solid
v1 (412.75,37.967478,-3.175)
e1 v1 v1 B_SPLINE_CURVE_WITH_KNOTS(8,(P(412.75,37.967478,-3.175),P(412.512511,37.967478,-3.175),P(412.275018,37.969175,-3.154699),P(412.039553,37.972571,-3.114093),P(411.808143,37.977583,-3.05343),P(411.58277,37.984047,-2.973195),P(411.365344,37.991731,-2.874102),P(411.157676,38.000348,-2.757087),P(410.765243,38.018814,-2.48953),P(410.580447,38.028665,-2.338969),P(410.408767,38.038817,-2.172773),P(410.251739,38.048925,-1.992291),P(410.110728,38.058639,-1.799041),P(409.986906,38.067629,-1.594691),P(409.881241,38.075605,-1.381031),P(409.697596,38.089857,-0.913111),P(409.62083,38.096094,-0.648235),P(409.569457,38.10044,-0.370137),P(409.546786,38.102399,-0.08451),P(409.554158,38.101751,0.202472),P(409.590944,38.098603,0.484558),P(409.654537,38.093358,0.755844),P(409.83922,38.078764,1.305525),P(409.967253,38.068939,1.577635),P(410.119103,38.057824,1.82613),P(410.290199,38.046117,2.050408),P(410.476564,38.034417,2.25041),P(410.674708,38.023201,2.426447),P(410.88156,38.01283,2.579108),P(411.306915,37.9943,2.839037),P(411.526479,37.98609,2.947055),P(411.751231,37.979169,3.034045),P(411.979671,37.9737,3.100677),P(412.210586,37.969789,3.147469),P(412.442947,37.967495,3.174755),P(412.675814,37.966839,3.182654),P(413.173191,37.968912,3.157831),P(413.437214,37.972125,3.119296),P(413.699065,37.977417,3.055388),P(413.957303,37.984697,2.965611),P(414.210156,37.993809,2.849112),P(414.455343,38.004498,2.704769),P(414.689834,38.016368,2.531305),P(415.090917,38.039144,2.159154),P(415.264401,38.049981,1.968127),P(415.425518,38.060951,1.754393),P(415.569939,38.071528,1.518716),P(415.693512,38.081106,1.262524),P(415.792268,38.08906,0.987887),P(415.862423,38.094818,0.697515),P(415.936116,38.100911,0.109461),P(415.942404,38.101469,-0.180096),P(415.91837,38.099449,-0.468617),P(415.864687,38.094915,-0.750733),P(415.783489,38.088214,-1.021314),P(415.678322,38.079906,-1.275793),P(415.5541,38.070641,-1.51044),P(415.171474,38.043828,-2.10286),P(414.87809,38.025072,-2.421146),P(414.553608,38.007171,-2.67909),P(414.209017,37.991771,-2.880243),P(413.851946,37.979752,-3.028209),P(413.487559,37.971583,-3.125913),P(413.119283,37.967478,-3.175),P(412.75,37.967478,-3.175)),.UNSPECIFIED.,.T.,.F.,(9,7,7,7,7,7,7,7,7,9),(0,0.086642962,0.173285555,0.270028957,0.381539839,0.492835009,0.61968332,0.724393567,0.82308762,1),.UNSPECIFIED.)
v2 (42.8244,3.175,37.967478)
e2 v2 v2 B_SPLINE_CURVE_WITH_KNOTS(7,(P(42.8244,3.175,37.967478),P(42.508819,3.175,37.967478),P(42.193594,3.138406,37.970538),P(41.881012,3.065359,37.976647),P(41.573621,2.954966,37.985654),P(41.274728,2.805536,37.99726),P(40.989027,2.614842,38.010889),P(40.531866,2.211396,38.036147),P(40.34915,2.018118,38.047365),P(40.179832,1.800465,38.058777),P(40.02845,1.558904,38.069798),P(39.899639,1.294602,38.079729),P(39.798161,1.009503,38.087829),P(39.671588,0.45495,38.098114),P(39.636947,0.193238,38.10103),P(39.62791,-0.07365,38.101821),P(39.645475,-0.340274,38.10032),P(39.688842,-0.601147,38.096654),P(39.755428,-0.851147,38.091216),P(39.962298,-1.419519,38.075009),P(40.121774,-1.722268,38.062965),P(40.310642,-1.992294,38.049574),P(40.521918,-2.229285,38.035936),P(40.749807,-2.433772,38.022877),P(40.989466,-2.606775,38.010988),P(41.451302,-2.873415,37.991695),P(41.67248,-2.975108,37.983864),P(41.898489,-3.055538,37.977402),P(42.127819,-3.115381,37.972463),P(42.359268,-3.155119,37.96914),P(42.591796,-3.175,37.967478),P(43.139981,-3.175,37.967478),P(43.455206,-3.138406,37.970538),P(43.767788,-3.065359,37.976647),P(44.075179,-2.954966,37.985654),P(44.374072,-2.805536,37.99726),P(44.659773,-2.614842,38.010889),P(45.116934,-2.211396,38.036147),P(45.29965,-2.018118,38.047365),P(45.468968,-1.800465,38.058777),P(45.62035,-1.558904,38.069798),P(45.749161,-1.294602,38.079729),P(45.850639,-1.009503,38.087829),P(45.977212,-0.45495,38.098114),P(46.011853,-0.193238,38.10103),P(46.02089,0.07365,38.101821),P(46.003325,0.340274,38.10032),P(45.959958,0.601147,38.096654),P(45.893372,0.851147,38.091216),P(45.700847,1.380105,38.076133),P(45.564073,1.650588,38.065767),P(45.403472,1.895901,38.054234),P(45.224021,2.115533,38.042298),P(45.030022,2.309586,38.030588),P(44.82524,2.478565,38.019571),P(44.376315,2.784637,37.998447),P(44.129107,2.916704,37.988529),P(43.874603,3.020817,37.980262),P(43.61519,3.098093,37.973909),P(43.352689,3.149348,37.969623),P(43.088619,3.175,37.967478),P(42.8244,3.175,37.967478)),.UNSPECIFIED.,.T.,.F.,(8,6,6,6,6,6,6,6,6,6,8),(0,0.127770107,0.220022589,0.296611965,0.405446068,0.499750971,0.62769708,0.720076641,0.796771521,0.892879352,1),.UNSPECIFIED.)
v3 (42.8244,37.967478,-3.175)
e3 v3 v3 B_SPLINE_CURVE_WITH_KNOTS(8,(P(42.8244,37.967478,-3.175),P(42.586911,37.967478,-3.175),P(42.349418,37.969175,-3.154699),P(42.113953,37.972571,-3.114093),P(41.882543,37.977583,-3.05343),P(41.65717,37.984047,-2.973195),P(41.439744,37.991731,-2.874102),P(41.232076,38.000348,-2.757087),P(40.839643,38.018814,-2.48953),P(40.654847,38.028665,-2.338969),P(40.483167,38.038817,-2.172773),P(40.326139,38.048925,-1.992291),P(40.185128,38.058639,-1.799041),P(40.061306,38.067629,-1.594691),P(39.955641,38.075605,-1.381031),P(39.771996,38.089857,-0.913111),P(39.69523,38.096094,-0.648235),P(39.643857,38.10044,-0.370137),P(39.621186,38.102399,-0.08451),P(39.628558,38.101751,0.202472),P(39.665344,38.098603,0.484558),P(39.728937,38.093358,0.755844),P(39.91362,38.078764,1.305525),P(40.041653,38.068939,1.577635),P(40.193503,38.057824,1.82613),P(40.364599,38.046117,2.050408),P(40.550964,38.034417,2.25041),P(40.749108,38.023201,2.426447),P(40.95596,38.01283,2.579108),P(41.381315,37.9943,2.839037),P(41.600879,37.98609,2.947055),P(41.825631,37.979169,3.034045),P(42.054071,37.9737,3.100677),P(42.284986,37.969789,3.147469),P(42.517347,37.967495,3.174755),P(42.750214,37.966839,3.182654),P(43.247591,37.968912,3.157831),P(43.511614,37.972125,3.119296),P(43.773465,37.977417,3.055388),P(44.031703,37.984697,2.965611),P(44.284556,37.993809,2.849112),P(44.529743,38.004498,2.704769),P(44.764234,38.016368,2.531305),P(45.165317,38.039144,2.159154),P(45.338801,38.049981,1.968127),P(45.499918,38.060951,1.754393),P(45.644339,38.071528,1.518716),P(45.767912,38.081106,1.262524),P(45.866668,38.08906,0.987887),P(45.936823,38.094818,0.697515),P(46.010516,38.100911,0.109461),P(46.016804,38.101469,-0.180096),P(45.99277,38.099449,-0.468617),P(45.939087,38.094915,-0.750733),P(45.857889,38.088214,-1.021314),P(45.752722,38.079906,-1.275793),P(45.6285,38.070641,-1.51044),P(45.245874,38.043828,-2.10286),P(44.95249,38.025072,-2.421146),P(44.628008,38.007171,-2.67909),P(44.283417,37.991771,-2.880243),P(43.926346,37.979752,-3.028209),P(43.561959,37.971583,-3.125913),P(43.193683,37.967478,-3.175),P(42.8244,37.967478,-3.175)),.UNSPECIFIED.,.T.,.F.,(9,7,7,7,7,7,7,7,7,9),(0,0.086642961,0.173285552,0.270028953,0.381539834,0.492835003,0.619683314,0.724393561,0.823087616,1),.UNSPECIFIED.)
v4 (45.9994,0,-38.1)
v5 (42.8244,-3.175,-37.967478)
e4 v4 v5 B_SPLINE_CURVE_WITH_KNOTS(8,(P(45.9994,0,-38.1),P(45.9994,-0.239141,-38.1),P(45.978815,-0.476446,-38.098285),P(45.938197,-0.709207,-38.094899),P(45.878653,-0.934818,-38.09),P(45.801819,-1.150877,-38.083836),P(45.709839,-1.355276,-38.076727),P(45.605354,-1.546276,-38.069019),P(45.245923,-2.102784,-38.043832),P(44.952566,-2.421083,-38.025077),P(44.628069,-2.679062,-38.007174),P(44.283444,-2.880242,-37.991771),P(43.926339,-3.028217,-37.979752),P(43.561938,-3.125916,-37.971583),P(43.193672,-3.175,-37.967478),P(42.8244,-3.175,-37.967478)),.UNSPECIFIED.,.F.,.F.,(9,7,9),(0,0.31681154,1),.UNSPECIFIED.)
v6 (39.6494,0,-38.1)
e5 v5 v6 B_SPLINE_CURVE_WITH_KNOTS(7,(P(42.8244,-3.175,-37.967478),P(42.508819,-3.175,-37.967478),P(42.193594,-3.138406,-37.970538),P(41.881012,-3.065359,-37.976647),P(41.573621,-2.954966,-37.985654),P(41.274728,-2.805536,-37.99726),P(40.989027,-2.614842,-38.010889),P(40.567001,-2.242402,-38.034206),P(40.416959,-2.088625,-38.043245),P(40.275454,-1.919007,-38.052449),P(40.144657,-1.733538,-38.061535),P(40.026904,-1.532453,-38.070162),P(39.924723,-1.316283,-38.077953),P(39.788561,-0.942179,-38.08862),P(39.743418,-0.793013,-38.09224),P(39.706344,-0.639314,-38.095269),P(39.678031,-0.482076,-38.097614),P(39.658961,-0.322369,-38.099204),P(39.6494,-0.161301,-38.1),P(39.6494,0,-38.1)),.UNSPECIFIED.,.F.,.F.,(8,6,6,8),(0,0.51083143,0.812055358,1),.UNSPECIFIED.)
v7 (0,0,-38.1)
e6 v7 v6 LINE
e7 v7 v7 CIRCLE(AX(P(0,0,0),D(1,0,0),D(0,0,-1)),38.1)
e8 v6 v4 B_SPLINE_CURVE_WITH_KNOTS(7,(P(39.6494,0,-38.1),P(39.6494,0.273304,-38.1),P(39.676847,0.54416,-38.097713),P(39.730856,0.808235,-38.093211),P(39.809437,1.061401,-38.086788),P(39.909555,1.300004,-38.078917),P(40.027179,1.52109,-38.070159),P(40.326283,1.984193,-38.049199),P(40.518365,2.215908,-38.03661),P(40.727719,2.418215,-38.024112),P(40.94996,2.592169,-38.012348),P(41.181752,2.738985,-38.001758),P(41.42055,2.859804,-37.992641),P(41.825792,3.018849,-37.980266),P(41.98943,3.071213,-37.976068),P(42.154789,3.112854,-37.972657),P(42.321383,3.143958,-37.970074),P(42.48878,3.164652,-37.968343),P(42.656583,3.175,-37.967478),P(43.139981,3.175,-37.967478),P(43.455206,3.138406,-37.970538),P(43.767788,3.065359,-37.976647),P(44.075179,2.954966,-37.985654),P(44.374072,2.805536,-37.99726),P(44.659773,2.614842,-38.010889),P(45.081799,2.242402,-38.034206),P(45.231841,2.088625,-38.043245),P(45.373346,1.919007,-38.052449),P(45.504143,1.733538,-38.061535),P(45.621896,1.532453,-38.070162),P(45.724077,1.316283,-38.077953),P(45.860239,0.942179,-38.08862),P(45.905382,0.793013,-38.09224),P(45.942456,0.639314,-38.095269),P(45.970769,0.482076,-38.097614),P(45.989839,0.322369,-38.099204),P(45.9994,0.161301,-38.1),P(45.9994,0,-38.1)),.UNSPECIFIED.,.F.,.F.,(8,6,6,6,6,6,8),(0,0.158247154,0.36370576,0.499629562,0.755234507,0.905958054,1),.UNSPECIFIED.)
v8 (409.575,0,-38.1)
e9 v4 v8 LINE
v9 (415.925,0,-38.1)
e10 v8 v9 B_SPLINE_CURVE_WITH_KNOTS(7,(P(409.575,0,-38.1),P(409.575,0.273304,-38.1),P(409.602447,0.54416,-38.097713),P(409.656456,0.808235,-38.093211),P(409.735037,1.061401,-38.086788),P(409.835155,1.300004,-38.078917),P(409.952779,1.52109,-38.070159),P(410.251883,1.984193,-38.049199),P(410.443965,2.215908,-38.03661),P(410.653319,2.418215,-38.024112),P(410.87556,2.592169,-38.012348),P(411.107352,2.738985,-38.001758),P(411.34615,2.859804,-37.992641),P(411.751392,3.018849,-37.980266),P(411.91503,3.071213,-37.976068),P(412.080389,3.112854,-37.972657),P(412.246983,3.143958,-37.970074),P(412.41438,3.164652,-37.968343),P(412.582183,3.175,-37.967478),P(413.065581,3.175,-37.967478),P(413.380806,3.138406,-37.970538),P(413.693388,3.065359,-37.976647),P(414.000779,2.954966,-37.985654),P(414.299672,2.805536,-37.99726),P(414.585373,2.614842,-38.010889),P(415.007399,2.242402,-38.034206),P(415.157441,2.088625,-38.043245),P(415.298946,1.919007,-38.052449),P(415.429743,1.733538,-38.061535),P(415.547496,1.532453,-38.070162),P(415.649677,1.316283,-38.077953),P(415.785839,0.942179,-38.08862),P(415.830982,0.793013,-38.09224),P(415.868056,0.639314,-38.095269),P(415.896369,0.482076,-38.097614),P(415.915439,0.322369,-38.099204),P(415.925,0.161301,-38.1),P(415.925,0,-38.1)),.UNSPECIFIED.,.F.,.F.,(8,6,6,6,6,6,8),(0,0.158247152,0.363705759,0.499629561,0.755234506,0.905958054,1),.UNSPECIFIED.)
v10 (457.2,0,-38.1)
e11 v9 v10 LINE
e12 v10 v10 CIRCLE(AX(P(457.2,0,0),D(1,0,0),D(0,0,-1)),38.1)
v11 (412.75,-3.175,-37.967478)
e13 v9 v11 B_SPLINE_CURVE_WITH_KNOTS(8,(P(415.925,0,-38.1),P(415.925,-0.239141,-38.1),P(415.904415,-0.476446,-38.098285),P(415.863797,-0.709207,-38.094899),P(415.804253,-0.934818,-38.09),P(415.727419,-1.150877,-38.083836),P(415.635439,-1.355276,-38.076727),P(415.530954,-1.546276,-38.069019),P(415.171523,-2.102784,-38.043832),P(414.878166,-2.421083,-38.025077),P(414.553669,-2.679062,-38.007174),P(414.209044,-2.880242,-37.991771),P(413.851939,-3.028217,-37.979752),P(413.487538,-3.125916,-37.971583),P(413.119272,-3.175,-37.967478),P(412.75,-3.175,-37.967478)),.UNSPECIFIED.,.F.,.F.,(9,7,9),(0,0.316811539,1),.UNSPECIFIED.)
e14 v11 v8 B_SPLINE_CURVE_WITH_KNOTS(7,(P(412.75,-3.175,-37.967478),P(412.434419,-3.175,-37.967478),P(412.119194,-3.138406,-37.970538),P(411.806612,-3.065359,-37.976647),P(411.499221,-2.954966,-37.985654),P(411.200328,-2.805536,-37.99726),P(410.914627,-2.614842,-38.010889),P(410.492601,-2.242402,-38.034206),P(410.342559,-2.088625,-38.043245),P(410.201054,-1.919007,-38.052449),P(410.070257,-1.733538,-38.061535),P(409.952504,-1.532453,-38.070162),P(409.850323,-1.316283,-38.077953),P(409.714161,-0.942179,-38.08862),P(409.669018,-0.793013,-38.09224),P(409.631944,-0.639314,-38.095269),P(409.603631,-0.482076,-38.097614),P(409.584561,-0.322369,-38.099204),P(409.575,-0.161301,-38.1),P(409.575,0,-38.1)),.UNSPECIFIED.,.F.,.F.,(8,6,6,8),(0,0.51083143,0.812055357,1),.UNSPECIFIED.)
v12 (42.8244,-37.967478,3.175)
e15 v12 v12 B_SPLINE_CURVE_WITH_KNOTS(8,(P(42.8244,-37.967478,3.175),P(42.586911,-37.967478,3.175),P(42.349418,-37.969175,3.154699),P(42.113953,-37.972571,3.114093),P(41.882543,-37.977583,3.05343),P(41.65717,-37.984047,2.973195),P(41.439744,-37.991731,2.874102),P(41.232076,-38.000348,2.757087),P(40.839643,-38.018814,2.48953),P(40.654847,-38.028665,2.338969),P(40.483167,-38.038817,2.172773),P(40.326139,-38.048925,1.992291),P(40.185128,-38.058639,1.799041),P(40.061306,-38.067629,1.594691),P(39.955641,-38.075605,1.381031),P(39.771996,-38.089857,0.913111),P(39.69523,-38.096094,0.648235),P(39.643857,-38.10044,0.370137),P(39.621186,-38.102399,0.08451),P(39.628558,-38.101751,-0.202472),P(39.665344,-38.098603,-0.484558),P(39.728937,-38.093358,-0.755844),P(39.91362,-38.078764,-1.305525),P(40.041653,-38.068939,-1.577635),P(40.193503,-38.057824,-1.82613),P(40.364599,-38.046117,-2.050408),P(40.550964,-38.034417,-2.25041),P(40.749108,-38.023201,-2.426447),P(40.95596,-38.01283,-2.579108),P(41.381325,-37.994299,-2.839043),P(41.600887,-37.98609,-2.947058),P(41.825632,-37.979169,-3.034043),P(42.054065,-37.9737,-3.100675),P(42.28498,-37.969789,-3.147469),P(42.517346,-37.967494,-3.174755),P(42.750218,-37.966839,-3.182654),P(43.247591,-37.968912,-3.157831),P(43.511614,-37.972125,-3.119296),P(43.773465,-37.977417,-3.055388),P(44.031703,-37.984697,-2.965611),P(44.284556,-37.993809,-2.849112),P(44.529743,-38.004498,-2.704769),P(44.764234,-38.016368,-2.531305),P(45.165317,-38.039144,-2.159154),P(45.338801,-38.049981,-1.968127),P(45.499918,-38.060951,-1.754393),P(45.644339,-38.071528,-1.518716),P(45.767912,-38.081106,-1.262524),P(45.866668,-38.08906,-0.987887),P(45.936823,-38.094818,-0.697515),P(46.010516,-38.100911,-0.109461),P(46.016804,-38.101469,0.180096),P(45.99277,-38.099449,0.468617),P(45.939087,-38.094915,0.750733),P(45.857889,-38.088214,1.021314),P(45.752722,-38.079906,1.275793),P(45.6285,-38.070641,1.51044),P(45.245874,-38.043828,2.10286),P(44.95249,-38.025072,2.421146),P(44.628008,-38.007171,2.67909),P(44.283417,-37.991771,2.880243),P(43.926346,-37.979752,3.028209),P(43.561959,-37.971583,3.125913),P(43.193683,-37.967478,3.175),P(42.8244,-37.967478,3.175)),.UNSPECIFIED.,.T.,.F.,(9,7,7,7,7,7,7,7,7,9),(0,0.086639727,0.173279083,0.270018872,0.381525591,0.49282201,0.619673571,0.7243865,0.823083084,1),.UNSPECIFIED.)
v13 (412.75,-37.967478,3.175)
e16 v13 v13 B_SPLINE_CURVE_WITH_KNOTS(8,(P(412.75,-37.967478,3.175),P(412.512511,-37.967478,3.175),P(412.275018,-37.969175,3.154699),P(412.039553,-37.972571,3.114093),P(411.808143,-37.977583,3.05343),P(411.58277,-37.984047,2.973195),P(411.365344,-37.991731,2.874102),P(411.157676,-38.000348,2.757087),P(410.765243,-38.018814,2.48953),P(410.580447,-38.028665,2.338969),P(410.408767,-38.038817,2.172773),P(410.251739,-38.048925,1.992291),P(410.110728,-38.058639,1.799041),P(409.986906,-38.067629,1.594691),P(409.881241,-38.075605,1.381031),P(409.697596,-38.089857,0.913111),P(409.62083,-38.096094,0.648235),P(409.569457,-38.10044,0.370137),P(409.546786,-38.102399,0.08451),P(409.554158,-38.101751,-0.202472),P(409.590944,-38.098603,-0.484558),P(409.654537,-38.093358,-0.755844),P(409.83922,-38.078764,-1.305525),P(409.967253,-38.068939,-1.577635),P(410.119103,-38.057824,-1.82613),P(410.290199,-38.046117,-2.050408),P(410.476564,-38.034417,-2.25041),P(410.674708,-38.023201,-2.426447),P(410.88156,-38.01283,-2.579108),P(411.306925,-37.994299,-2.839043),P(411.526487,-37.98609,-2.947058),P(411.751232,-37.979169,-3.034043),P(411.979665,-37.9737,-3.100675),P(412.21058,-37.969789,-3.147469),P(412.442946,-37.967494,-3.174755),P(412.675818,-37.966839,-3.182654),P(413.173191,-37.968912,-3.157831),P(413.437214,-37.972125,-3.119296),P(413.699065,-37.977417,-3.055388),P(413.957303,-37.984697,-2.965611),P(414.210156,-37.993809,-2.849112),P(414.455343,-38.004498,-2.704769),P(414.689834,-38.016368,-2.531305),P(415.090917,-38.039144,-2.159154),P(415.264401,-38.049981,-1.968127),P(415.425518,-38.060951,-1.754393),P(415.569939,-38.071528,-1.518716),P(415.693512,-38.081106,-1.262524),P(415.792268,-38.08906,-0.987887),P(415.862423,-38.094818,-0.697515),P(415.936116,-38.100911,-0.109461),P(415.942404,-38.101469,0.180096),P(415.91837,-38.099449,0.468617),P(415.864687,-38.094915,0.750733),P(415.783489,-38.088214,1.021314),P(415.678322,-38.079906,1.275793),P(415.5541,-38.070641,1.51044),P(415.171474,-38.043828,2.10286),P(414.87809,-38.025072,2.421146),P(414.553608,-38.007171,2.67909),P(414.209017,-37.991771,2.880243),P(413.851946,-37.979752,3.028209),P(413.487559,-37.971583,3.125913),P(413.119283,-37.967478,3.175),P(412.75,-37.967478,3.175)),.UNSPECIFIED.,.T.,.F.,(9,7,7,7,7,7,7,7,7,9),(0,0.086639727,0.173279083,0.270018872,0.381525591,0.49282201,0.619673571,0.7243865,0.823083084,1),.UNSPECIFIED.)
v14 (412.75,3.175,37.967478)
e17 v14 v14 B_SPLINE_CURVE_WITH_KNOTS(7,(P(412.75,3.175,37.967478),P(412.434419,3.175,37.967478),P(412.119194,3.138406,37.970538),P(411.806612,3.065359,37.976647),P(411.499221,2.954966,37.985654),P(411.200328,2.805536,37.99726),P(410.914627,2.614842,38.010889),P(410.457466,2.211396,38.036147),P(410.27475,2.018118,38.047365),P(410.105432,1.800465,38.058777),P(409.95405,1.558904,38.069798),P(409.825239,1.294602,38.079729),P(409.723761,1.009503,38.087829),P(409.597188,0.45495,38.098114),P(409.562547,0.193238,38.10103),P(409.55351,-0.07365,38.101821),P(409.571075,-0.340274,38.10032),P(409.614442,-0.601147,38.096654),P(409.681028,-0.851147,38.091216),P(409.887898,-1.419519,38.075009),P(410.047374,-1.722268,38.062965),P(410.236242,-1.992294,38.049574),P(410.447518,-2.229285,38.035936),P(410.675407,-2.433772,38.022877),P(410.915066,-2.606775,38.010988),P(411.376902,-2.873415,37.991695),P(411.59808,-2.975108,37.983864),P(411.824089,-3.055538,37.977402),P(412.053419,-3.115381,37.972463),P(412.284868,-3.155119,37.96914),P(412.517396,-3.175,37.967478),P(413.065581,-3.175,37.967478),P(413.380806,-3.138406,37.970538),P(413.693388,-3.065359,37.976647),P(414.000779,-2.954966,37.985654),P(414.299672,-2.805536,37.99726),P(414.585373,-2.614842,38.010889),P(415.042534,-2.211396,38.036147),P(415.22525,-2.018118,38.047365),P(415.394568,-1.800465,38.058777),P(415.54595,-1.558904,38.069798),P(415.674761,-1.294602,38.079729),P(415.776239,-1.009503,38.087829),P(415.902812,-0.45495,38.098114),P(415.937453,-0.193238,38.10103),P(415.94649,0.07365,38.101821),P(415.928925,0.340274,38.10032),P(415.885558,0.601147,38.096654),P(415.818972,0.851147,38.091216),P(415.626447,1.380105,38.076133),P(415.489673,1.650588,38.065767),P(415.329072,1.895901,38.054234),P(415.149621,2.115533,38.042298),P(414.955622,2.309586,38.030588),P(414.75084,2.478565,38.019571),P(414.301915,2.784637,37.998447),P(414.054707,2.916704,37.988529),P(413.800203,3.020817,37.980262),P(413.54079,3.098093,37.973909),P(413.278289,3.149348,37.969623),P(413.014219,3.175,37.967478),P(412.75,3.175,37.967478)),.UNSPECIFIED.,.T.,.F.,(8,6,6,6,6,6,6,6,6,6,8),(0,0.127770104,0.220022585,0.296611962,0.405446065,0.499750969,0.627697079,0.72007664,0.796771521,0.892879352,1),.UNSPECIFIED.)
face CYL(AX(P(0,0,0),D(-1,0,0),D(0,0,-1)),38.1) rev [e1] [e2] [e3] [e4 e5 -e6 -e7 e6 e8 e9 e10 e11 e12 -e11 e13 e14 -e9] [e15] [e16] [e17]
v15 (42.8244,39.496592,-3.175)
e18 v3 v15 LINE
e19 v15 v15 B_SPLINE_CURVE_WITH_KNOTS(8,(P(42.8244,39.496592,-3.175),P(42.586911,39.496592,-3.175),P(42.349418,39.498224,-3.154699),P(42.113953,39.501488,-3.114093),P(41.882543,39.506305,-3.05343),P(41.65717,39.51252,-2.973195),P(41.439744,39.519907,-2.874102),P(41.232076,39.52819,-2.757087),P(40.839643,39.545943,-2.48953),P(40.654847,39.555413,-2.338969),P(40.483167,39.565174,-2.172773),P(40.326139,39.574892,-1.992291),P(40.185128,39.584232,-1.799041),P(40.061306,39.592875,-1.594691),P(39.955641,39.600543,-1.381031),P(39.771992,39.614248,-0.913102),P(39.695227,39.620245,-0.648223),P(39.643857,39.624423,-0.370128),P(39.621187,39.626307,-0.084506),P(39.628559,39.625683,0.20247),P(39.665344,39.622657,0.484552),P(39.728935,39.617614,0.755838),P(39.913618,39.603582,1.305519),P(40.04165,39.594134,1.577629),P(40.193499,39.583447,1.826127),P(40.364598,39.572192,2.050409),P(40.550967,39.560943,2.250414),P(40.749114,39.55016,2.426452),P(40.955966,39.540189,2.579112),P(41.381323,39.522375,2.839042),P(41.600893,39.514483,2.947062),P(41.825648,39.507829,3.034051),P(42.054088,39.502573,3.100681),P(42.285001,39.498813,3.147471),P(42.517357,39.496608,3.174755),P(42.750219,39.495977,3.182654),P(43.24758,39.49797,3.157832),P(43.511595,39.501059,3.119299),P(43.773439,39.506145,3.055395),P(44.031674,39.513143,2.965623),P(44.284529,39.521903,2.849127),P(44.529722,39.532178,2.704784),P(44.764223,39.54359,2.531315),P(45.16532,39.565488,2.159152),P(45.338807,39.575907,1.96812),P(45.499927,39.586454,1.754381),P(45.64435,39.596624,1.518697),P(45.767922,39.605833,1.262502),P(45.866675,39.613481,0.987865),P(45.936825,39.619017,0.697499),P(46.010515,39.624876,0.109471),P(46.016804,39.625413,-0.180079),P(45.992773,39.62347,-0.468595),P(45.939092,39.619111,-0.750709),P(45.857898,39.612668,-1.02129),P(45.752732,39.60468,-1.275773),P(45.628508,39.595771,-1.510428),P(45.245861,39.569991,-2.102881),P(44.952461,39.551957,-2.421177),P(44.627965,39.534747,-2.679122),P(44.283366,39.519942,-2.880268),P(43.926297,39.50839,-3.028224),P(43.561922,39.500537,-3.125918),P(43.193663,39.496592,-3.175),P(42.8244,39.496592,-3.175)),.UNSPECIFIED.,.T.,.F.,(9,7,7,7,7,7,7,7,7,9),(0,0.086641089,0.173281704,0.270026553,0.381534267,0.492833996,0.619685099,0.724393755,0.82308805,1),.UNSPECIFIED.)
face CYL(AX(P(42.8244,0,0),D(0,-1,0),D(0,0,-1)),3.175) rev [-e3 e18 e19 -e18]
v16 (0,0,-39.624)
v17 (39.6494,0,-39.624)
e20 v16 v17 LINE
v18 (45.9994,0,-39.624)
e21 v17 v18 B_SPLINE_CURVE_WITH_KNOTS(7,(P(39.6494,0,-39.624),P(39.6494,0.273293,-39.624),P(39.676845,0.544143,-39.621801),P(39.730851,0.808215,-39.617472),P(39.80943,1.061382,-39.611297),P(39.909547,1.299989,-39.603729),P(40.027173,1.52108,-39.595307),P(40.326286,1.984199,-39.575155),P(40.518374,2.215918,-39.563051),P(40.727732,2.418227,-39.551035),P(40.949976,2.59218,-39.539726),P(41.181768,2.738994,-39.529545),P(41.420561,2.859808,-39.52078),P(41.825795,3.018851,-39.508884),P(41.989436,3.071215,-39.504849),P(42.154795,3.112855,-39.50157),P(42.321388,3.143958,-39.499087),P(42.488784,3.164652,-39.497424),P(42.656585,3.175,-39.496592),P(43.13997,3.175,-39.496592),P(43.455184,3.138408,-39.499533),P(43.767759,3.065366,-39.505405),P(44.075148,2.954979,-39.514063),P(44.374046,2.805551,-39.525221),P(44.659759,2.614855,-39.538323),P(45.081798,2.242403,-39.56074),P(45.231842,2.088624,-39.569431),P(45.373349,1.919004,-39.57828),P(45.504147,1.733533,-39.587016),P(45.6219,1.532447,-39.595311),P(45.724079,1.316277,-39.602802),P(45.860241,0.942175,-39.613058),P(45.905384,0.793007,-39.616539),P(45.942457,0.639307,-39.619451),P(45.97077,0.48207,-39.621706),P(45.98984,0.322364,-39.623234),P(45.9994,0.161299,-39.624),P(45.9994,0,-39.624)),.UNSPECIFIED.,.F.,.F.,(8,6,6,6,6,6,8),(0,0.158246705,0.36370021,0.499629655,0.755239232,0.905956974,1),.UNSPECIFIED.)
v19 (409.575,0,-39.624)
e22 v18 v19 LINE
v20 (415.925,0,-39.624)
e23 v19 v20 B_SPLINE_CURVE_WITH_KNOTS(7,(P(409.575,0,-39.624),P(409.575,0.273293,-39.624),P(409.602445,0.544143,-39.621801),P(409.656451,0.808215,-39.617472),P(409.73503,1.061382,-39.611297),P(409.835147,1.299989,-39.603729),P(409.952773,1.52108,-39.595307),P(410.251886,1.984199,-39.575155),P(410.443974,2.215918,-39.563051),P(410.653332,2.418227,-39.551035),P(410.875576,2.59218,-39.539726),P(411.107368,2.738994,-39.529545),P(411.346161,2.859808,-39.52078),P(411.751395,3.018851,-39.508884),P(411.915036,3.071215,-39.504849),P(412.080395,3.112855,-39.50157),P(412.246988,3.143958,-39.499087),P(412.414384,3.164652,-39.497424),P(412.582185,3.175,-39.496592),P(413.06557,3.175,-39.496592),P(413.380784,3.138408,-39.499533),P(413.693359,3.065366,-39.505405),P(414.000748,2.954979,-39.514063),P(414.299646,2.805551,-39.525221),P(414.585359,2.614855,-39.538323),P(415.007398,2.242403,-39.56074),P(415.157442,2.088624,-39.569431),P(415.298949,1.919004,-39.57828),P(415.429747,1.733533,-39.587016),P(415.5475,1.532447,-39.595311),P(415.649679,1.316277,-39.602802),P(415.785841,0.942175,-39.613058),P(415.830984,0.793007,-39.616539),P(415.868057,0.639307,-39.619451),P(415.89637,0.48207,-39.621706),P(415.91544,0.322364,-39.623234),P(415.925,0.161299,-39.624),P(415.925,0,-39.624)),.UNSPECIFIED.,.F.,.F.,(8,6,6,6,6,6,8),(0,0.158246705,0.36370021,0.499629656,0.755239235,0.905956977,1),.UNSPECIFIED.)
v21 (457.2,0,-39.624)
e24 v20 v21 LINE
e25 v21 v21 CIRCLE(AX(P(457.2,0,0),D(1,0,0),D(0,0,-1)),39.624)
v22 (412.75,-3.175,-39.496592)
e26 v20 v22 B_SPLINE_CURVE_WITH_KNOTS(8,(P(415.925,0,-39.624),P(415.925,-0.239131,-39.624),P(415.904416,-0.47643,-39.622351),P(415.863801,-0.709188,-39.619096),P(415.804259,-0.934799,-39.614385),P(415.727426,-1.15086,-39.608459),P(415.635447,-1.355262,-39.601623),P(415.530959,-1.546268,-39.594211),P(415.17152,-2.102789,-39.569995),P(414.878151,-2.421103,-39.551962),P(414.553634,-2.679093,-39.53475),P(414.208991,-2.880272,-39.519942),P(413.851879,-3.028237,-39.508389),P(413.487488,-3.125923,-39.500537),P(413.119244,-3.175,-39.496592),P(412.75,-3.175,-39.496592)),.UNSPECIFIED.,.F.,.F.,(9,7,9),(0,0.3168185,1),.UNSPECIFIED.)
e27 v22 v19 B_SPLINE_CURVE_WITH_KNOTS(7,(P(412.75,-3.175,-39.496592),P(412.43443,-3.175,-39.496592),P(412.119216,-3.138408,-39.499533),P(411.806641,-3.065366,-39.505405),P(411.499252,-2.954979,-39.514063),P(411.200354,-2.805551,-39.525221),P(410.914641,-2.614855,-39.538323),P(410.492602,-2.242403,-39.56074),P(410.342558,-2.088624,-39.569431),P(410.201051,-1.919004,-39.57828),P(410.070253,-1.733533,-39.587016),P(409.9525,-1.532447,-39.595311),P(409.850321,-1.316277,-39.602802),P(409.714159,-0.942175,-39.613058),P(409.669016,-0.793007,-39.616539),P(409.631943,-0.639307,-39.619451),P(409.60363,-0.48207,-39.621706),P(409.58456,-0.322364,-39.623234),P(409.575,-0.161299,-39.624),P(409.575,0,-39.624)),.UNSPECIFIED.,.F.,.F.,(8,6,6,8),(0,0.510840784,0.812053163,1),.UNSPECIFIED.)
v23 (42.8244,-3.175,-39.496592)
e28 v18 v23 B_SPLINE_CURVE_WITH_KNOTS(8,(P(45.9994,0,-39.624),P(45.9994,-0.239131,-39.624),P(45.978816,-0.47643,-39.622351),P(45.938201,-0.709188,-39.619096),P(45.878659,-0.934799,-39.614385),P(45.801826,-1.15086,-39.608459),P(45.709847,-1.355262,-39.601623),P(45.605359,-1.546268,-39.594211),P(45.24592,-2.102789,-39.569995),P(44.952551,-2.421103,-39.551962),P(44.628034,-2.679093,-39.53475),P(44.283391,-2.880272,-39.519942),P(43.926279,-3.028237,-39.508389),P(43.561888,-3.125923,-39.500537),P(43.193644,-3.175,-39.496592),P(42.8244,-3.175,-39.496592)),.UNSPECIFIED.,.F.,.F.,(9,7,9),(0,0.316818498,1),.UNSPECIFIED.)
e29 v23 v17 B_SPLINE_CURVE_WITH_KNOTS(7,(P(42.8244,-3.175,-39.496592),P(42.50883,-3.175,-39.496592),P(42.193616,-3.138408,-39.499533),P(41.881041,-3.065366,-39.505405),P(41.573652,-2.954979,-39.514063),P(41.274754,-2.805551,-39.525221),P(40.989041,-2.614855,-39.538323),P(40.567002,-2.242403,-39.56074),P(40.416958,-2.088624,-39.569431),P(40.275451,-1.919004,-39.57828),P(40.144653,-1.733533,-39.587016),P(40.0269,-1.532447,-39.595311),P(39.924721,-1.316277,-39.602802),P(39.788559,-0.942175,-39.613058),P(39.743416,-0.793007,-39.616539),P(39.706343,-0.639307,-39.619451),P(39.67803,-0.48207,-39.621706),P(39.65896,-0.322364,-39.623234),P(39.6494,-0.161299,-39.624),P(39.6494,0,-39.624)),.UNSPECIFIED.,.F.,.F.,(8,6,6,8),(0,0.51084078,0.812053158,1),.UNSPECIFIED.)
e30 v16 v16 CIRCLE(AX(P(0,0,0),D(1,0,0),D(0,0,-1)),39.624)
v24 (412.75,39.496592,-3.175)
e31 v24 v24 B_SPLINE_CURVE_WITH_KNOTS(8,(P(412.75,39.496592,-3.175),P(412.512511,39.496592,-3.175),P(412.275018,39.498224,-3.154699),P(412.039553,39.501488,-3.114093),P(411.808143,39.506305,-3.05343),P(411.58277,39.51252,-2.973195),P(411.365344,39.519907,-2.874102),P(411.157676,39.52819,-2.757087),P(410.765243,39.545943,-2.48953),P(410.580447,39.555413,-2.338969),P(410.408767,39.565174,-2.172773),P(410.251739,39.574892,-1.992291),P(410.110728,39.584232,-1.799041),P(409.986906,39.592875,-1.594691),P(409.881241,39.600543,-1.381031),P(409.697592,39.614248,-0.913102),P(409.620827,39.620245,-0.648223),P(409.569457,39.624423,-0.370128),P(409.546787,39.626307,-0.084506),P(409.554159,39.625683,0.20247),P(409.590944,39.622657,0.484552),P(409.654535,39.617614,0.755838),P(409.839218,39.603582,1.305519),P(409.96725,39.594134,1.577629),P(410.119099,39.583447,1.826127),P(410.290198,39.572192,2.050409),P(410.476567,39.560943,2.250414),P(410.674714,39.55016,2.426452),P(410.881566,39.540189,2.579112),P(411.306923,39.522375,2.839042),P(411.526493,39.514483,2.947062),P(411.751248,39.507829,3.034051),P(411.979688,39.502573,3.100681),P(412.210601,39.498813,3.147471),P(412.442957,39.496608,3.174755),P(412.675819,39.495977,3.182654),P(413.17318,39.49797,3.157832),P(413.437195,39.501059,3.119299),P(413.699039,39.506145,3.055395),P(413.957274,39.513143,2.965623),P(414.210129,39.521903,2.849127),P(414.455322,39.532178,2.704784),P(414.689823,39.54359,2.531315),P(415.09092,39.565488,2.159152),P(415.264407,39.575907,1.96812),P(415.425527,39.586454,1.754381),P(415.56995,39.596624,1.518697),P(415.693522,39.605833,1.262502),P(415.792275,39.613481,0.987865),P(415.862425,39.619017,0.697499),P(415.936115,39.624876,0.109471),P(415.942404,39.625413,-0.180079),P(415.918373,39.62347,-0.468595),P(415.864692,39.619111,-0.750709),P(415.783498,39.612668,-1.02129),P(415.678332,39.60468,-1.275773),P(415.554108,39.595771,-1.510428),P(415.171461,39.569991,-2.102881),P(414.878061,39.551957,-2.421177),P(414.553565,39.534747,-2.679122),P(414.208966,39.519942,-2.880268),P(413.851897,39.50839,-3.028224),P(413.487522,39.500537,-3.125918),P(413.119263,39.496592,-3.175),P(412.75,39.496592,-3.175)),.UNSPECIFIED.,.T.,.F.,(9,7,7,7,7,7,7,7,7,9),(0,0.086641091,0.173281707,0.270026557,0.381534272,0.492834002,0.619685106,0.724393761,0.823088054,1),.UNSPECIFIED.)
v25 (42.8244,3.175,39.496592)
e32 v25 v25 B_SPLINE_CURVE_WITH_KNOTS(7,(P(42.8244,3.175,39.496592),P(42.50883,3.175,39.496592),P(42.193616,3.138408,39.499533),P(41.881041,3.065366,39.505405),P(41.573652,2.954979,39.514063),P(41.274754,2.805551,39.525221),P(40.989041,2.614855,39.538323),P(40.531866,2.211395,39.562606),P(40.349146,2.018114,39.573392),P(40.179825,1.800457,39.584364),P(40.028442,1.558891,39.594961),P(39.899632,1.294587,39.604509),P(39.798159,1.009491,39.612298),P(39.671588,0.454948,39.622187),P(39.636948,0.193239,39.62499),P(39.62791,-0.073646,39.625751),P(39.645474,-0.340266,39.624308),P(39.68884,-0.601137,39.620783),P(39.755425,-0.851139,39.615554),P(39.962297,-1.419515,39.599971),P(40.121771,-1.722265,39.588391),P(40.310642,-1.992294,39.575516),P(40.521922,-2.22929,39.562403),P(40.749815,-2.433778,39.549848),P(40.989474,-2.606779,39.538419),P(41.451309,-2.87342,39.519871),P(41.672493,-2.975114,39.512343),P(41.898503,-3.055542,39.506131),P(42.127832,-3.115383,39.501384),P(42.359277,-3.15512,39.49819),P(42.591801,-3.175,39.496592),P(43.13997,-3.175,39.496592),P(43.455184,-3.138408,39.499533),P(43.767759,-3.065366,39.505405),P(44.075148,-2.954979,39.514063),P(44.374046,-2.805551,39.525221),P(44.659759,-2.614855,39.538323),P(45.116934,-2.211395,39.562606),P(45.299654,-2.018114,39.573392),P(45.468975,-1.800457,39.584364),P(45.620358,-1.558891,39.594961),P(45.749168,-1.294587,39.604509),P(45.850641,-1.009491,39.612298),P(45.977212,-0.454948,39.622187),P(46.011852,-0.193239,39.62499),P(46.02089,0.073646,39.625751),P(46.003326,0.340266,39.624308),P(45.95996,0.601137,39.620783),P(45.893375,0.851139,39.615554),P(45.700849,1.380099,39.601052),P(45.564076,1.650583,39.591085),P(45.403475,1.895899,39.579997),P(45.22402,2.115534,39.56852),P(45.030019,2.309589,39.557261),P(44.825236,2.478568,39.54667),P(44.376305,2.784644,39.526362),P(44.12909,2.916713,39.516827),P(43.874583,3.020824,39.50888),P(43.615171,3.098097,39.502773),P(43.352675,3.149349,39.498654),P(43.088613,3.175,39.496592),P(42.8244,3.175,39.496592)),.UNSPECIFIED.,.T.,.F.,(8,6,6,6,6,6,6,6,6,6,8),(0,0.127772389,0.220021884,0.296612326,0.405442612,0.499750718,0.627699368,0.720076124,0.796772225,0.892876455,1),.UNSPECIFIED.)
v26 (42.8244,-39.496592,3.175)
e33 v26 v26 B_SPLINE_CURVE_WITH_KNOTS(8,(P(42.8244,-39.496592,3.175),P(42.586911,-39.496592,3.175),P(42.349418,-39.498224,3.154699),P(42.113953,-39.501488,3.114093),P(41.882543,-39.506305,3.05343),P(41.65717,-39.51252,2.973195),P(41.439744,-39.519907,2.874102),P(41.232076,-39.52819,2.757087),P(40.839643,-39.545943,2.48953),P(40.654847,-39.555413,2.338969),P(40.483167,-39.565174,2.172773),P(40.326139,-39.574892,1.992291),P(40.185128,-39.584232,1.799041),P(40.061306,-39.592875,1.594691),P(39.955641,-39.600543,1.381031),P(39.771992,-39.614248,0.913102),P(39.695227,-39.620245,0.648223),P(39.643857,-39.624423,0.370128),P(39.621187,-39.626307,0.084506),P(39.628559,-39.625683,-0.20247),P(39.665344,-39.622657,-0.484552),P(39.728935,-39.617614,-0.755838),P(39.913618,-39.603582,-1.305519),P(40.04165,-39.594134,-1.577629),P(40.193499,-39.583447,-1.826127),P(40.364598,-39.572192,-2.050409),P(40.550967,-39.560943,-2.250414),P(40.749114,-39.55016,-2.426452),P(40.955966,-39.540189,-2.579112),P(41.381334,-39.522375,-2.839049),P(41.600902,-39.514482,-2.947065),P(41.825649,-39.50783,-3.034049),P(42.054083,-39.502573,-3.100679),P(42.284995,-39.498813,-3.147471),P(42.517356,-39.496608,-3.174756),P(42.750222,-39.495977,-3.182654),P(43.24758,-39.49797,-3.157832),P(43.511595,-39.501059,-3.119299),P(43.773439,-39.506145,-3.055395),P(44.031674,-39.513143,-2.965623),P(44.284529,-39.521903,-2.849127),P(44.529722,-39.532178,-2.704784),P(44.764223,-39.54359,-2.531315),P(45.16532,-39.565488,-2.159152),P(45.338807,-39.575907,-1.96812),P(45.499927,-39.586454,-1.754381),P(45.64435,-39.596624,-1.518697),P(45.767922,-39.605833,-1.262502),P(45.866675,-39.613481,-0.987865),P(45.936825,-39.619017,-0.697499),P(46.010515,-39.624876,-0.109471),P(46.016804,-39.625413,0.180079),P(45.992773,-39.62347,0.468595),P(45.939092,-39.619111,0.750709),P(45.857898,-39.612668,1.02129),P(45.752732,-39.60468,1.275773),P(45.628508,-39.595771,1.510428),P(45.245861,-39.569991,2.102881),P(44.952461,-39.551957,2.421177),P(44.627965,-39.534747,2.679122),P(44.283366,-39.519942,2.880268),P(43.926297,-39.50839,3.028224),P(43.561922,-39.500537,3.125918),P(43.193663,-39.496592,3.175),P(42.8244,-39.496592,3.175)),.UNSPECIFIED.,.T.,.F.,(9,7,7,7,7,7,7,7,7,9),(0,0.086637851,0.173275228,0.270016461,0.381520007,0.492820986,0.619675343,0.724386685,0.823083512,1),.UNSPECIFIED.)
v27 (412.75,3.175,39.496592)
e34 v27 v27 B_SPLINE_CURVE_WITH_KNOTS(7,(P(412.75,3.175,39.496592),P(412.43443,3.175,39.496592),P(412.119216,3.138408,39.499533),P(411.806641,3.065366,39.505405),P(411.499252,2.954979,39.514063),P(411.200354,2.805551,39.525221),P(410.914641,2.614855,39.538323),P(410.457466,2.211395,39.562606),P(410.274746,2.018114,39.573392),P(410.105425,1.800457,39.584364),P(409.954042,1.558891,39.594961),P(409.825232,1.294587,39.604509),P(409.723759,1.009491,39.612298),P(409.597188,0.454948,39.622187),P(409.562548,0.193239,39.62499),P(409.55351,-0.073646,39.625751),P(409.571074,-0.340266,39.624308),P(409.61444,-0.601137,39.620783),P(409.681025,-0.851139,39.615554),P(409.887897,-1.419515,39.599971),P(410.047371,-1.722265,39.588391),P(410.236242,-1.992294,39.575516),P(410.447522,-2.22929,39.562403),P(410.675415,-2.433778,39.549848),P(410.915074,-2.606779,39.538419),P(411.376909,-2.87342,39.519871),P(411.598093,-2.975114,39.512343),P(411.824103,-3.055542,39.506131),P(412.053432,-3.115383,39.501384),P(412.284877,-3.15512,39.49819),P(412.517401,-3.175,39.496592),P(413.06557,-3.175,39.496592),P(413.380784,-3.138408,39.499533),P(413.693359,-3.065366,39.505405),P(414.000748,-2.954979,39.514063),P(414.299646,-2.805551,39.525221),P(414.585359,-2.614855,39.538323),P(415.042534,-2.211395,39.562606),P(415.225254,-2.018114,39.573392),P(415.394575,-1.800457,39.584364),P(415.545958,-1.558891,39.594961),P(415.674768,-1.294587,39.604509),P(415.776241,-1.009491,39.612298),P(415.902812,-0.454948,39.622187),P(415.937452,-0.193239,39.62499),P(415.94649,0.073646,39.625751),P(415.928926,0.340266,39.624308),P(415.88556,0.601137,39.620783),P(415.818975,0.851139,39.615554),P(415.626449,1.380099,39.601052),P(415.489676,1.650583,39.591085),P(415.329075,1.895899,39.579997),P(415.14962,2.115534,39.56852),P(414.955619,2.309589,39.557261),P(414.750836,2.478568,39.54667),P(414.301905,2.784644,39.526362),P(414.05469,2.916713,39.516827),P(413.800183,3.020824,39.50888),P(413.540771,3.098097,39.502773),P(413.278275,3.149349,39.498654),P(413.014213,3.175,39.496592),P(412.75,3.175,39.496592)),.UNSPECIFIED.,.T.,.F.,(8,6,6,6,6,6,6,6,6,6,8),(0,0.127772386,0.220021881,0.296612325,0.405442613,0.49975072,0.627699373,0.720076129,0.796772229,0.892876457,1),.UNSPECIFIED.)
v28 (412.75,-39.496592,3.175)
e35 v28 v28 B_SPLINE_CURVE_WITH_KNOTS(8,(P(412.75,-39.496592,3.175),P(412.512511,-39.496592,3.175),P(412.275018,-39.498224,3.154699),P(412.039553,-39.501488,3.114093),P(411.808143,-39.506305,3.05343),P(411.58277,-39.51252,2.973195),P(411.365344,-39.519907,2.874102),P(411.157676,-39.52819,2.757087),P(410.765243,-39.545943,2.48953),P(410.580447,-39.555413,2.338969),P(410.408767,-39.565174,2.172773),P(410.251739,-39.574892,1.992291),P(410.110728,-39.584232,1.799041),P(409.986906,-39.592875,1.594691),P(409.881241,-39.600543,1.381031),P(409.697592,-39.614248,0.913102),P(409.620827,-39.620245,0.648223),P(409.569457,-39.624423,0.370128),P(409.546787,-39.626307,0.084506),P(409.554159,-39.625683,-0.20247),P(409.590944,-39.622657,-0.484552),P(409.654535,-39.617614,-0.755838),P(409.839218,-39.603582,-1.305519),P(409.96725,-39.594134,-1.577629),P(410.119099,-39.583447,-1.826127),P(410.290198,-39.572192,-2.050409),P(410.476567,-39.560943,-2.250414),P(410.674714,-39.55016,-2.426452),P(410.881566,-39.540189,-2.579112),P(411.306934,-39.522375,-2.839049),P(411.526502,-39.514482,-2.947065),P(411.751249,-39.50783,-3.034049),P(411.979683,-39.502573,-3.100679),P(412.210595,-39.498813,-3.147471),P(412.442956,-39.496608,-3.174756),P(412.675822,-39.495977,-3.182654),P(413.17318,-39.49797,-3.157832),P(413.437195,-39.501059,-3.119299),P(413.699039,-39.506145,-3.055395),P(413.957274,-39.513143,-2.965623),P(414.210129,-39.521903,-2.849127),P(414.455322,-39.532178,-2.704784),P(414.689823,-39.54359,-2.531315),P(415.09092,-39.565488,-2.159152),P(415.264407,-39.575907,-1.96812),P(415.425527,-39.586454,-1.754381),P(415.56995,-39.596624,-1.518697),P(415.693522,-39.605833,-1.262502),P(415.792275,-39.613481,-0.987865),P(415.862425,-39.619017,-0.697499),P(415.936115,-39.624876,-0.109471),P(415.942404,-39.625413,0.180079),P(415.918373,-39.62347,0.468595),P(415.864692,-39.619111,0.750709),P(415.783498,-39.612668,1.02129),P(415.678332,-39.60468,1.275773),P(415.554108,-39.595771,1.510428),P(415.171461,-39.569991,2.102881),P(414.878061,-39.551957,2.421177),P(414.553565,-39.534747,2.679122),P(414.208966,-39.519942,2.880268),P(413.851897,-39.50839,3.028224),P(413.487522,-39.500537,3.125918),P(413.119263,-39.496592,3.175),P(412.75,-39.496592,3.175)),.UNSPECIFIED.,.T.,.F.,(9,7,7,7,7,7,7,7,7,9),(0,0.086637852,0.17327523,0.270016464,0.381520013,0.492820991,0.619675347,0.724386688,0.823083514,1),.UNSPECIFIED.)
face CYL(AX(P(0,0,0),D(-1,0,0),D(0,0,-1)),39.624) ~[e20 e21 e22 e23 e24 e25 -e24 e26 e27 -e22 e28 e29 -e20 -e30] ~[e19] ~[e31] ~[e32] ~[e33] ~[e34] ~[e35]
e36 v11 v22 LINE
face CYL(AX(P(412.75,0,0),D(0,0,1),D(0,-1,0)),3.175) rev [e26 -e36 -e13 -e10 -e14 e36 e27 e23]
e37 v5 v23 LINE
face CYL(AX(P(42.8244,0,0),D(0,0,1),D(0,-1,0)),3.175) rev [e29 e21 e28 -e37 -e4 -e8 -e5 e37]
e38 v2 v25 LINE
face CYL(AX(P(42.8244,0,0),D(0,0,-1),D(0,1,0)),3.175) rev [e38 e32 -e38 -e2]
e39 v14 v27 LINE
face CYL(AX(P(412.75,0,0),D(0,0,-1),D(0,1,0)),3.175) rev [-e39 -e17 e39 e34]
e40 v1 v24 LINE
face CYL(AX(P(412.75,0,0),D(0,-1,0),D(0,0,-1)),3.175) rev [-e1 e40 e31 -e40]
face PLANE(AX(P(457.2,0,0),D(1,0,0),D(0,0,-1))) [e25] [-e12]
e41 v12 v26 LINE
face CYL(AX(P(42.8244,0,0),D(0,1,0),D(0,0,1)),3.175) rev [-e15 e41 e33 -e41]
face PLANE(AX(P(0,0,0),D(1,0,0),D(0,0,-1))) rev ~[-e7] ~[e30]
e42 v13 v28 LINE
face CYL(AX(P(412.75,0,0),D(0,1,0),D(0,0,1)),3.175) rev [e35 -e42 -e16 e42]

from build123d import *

# Parameters (mm, degrees)
SKETCH1_R           = 39.624
SKETCH1_R_2         = 38.1
BOSS_EXTRUDE1_DEPTH = 457.2
SKETCH2_R           = 3.175
CUT_EXTRUDE1_DEPTH  = 461.621279092
CIRPATTERN1_COUNT   = 4
SKETCH3_R           = 3.175
CUT_EXTRUDE2_DEPTH  = 461.621279208
CIRPATTERN2_COUNT   = 4


with BuildPart() as part:
    # Sketch1 → Boss-Extrude1 (new body)
    with BuildSketch(Plane.YZ):
        with Locations(Location((0, 0, 0), (0, 0, 270))):
            Circle(SKETCH1_R)
        with Locations(Location((0, 0, 0), (0, 0, 270))):
            Circle(SKETCH1_R_2, mode=Mode.SUBTRACT)
    extrude(amount=BOSS_EXTRUDE1_DEPTH)

    # Sketch2 → Cut-Extrude1 (cut, through all)
    with BuildSketch(Plane(origin=(0, 0, 0), x_dir=(-1, 0, 0), z_dir=(0, 1, 0))):
        with Locations(Location((-42.8244, 0, 0), (0, 0, 270))):
            Circle(SKETCH2_R)
    cut_extrude1 = extrude(amount=CUT_EXTRUDE1_DEPTH, mode=Mode.SUBTRACT)

    # CirPattern1: Cut-Extrude1 ×4 about axis
    cirpattern1_axis = Axis((457.2, 0, 0), (-1, 0, 0))
    for i in range(1, CIRPATTERN1_COUNT):
        add(cut_extrude1.rotate(cirpattern1_axis, i * 360 / CIRPATTERN1_COUNT), mode=Mode.SUBTRACT)

    # Sketch3 → Cut-Extrude2 (cut, through all)
    with BuildSketch(Plane(origin=(0, 0, 0), x_dir=(-1, 0, 0), z_dir=(0, 1, 0))):
        with Locations(Location((-412.75, 0, 0), (0, 0, 270))):
            Circle(SKETCH3_R)
    cut_extrude2 = extrude(amount=CUT_EXTRUDE2_DEPTH, mode=Mode.SUBTRACT)

    # CirPattern2: Cut-Extrude2 ×4 about axis
    cirpattern2_axis = Axis((457.2, 0, 0), (-1, 0, 0))
    for i in range(1, CIRPATTERN2_COUNT):
        add(cut_extrude2.rotate(cirpattern2_axis, i * 360 / CIRPATTERN2_COUNT), mode=Mode.SUBTRACT)


solid = part.part
